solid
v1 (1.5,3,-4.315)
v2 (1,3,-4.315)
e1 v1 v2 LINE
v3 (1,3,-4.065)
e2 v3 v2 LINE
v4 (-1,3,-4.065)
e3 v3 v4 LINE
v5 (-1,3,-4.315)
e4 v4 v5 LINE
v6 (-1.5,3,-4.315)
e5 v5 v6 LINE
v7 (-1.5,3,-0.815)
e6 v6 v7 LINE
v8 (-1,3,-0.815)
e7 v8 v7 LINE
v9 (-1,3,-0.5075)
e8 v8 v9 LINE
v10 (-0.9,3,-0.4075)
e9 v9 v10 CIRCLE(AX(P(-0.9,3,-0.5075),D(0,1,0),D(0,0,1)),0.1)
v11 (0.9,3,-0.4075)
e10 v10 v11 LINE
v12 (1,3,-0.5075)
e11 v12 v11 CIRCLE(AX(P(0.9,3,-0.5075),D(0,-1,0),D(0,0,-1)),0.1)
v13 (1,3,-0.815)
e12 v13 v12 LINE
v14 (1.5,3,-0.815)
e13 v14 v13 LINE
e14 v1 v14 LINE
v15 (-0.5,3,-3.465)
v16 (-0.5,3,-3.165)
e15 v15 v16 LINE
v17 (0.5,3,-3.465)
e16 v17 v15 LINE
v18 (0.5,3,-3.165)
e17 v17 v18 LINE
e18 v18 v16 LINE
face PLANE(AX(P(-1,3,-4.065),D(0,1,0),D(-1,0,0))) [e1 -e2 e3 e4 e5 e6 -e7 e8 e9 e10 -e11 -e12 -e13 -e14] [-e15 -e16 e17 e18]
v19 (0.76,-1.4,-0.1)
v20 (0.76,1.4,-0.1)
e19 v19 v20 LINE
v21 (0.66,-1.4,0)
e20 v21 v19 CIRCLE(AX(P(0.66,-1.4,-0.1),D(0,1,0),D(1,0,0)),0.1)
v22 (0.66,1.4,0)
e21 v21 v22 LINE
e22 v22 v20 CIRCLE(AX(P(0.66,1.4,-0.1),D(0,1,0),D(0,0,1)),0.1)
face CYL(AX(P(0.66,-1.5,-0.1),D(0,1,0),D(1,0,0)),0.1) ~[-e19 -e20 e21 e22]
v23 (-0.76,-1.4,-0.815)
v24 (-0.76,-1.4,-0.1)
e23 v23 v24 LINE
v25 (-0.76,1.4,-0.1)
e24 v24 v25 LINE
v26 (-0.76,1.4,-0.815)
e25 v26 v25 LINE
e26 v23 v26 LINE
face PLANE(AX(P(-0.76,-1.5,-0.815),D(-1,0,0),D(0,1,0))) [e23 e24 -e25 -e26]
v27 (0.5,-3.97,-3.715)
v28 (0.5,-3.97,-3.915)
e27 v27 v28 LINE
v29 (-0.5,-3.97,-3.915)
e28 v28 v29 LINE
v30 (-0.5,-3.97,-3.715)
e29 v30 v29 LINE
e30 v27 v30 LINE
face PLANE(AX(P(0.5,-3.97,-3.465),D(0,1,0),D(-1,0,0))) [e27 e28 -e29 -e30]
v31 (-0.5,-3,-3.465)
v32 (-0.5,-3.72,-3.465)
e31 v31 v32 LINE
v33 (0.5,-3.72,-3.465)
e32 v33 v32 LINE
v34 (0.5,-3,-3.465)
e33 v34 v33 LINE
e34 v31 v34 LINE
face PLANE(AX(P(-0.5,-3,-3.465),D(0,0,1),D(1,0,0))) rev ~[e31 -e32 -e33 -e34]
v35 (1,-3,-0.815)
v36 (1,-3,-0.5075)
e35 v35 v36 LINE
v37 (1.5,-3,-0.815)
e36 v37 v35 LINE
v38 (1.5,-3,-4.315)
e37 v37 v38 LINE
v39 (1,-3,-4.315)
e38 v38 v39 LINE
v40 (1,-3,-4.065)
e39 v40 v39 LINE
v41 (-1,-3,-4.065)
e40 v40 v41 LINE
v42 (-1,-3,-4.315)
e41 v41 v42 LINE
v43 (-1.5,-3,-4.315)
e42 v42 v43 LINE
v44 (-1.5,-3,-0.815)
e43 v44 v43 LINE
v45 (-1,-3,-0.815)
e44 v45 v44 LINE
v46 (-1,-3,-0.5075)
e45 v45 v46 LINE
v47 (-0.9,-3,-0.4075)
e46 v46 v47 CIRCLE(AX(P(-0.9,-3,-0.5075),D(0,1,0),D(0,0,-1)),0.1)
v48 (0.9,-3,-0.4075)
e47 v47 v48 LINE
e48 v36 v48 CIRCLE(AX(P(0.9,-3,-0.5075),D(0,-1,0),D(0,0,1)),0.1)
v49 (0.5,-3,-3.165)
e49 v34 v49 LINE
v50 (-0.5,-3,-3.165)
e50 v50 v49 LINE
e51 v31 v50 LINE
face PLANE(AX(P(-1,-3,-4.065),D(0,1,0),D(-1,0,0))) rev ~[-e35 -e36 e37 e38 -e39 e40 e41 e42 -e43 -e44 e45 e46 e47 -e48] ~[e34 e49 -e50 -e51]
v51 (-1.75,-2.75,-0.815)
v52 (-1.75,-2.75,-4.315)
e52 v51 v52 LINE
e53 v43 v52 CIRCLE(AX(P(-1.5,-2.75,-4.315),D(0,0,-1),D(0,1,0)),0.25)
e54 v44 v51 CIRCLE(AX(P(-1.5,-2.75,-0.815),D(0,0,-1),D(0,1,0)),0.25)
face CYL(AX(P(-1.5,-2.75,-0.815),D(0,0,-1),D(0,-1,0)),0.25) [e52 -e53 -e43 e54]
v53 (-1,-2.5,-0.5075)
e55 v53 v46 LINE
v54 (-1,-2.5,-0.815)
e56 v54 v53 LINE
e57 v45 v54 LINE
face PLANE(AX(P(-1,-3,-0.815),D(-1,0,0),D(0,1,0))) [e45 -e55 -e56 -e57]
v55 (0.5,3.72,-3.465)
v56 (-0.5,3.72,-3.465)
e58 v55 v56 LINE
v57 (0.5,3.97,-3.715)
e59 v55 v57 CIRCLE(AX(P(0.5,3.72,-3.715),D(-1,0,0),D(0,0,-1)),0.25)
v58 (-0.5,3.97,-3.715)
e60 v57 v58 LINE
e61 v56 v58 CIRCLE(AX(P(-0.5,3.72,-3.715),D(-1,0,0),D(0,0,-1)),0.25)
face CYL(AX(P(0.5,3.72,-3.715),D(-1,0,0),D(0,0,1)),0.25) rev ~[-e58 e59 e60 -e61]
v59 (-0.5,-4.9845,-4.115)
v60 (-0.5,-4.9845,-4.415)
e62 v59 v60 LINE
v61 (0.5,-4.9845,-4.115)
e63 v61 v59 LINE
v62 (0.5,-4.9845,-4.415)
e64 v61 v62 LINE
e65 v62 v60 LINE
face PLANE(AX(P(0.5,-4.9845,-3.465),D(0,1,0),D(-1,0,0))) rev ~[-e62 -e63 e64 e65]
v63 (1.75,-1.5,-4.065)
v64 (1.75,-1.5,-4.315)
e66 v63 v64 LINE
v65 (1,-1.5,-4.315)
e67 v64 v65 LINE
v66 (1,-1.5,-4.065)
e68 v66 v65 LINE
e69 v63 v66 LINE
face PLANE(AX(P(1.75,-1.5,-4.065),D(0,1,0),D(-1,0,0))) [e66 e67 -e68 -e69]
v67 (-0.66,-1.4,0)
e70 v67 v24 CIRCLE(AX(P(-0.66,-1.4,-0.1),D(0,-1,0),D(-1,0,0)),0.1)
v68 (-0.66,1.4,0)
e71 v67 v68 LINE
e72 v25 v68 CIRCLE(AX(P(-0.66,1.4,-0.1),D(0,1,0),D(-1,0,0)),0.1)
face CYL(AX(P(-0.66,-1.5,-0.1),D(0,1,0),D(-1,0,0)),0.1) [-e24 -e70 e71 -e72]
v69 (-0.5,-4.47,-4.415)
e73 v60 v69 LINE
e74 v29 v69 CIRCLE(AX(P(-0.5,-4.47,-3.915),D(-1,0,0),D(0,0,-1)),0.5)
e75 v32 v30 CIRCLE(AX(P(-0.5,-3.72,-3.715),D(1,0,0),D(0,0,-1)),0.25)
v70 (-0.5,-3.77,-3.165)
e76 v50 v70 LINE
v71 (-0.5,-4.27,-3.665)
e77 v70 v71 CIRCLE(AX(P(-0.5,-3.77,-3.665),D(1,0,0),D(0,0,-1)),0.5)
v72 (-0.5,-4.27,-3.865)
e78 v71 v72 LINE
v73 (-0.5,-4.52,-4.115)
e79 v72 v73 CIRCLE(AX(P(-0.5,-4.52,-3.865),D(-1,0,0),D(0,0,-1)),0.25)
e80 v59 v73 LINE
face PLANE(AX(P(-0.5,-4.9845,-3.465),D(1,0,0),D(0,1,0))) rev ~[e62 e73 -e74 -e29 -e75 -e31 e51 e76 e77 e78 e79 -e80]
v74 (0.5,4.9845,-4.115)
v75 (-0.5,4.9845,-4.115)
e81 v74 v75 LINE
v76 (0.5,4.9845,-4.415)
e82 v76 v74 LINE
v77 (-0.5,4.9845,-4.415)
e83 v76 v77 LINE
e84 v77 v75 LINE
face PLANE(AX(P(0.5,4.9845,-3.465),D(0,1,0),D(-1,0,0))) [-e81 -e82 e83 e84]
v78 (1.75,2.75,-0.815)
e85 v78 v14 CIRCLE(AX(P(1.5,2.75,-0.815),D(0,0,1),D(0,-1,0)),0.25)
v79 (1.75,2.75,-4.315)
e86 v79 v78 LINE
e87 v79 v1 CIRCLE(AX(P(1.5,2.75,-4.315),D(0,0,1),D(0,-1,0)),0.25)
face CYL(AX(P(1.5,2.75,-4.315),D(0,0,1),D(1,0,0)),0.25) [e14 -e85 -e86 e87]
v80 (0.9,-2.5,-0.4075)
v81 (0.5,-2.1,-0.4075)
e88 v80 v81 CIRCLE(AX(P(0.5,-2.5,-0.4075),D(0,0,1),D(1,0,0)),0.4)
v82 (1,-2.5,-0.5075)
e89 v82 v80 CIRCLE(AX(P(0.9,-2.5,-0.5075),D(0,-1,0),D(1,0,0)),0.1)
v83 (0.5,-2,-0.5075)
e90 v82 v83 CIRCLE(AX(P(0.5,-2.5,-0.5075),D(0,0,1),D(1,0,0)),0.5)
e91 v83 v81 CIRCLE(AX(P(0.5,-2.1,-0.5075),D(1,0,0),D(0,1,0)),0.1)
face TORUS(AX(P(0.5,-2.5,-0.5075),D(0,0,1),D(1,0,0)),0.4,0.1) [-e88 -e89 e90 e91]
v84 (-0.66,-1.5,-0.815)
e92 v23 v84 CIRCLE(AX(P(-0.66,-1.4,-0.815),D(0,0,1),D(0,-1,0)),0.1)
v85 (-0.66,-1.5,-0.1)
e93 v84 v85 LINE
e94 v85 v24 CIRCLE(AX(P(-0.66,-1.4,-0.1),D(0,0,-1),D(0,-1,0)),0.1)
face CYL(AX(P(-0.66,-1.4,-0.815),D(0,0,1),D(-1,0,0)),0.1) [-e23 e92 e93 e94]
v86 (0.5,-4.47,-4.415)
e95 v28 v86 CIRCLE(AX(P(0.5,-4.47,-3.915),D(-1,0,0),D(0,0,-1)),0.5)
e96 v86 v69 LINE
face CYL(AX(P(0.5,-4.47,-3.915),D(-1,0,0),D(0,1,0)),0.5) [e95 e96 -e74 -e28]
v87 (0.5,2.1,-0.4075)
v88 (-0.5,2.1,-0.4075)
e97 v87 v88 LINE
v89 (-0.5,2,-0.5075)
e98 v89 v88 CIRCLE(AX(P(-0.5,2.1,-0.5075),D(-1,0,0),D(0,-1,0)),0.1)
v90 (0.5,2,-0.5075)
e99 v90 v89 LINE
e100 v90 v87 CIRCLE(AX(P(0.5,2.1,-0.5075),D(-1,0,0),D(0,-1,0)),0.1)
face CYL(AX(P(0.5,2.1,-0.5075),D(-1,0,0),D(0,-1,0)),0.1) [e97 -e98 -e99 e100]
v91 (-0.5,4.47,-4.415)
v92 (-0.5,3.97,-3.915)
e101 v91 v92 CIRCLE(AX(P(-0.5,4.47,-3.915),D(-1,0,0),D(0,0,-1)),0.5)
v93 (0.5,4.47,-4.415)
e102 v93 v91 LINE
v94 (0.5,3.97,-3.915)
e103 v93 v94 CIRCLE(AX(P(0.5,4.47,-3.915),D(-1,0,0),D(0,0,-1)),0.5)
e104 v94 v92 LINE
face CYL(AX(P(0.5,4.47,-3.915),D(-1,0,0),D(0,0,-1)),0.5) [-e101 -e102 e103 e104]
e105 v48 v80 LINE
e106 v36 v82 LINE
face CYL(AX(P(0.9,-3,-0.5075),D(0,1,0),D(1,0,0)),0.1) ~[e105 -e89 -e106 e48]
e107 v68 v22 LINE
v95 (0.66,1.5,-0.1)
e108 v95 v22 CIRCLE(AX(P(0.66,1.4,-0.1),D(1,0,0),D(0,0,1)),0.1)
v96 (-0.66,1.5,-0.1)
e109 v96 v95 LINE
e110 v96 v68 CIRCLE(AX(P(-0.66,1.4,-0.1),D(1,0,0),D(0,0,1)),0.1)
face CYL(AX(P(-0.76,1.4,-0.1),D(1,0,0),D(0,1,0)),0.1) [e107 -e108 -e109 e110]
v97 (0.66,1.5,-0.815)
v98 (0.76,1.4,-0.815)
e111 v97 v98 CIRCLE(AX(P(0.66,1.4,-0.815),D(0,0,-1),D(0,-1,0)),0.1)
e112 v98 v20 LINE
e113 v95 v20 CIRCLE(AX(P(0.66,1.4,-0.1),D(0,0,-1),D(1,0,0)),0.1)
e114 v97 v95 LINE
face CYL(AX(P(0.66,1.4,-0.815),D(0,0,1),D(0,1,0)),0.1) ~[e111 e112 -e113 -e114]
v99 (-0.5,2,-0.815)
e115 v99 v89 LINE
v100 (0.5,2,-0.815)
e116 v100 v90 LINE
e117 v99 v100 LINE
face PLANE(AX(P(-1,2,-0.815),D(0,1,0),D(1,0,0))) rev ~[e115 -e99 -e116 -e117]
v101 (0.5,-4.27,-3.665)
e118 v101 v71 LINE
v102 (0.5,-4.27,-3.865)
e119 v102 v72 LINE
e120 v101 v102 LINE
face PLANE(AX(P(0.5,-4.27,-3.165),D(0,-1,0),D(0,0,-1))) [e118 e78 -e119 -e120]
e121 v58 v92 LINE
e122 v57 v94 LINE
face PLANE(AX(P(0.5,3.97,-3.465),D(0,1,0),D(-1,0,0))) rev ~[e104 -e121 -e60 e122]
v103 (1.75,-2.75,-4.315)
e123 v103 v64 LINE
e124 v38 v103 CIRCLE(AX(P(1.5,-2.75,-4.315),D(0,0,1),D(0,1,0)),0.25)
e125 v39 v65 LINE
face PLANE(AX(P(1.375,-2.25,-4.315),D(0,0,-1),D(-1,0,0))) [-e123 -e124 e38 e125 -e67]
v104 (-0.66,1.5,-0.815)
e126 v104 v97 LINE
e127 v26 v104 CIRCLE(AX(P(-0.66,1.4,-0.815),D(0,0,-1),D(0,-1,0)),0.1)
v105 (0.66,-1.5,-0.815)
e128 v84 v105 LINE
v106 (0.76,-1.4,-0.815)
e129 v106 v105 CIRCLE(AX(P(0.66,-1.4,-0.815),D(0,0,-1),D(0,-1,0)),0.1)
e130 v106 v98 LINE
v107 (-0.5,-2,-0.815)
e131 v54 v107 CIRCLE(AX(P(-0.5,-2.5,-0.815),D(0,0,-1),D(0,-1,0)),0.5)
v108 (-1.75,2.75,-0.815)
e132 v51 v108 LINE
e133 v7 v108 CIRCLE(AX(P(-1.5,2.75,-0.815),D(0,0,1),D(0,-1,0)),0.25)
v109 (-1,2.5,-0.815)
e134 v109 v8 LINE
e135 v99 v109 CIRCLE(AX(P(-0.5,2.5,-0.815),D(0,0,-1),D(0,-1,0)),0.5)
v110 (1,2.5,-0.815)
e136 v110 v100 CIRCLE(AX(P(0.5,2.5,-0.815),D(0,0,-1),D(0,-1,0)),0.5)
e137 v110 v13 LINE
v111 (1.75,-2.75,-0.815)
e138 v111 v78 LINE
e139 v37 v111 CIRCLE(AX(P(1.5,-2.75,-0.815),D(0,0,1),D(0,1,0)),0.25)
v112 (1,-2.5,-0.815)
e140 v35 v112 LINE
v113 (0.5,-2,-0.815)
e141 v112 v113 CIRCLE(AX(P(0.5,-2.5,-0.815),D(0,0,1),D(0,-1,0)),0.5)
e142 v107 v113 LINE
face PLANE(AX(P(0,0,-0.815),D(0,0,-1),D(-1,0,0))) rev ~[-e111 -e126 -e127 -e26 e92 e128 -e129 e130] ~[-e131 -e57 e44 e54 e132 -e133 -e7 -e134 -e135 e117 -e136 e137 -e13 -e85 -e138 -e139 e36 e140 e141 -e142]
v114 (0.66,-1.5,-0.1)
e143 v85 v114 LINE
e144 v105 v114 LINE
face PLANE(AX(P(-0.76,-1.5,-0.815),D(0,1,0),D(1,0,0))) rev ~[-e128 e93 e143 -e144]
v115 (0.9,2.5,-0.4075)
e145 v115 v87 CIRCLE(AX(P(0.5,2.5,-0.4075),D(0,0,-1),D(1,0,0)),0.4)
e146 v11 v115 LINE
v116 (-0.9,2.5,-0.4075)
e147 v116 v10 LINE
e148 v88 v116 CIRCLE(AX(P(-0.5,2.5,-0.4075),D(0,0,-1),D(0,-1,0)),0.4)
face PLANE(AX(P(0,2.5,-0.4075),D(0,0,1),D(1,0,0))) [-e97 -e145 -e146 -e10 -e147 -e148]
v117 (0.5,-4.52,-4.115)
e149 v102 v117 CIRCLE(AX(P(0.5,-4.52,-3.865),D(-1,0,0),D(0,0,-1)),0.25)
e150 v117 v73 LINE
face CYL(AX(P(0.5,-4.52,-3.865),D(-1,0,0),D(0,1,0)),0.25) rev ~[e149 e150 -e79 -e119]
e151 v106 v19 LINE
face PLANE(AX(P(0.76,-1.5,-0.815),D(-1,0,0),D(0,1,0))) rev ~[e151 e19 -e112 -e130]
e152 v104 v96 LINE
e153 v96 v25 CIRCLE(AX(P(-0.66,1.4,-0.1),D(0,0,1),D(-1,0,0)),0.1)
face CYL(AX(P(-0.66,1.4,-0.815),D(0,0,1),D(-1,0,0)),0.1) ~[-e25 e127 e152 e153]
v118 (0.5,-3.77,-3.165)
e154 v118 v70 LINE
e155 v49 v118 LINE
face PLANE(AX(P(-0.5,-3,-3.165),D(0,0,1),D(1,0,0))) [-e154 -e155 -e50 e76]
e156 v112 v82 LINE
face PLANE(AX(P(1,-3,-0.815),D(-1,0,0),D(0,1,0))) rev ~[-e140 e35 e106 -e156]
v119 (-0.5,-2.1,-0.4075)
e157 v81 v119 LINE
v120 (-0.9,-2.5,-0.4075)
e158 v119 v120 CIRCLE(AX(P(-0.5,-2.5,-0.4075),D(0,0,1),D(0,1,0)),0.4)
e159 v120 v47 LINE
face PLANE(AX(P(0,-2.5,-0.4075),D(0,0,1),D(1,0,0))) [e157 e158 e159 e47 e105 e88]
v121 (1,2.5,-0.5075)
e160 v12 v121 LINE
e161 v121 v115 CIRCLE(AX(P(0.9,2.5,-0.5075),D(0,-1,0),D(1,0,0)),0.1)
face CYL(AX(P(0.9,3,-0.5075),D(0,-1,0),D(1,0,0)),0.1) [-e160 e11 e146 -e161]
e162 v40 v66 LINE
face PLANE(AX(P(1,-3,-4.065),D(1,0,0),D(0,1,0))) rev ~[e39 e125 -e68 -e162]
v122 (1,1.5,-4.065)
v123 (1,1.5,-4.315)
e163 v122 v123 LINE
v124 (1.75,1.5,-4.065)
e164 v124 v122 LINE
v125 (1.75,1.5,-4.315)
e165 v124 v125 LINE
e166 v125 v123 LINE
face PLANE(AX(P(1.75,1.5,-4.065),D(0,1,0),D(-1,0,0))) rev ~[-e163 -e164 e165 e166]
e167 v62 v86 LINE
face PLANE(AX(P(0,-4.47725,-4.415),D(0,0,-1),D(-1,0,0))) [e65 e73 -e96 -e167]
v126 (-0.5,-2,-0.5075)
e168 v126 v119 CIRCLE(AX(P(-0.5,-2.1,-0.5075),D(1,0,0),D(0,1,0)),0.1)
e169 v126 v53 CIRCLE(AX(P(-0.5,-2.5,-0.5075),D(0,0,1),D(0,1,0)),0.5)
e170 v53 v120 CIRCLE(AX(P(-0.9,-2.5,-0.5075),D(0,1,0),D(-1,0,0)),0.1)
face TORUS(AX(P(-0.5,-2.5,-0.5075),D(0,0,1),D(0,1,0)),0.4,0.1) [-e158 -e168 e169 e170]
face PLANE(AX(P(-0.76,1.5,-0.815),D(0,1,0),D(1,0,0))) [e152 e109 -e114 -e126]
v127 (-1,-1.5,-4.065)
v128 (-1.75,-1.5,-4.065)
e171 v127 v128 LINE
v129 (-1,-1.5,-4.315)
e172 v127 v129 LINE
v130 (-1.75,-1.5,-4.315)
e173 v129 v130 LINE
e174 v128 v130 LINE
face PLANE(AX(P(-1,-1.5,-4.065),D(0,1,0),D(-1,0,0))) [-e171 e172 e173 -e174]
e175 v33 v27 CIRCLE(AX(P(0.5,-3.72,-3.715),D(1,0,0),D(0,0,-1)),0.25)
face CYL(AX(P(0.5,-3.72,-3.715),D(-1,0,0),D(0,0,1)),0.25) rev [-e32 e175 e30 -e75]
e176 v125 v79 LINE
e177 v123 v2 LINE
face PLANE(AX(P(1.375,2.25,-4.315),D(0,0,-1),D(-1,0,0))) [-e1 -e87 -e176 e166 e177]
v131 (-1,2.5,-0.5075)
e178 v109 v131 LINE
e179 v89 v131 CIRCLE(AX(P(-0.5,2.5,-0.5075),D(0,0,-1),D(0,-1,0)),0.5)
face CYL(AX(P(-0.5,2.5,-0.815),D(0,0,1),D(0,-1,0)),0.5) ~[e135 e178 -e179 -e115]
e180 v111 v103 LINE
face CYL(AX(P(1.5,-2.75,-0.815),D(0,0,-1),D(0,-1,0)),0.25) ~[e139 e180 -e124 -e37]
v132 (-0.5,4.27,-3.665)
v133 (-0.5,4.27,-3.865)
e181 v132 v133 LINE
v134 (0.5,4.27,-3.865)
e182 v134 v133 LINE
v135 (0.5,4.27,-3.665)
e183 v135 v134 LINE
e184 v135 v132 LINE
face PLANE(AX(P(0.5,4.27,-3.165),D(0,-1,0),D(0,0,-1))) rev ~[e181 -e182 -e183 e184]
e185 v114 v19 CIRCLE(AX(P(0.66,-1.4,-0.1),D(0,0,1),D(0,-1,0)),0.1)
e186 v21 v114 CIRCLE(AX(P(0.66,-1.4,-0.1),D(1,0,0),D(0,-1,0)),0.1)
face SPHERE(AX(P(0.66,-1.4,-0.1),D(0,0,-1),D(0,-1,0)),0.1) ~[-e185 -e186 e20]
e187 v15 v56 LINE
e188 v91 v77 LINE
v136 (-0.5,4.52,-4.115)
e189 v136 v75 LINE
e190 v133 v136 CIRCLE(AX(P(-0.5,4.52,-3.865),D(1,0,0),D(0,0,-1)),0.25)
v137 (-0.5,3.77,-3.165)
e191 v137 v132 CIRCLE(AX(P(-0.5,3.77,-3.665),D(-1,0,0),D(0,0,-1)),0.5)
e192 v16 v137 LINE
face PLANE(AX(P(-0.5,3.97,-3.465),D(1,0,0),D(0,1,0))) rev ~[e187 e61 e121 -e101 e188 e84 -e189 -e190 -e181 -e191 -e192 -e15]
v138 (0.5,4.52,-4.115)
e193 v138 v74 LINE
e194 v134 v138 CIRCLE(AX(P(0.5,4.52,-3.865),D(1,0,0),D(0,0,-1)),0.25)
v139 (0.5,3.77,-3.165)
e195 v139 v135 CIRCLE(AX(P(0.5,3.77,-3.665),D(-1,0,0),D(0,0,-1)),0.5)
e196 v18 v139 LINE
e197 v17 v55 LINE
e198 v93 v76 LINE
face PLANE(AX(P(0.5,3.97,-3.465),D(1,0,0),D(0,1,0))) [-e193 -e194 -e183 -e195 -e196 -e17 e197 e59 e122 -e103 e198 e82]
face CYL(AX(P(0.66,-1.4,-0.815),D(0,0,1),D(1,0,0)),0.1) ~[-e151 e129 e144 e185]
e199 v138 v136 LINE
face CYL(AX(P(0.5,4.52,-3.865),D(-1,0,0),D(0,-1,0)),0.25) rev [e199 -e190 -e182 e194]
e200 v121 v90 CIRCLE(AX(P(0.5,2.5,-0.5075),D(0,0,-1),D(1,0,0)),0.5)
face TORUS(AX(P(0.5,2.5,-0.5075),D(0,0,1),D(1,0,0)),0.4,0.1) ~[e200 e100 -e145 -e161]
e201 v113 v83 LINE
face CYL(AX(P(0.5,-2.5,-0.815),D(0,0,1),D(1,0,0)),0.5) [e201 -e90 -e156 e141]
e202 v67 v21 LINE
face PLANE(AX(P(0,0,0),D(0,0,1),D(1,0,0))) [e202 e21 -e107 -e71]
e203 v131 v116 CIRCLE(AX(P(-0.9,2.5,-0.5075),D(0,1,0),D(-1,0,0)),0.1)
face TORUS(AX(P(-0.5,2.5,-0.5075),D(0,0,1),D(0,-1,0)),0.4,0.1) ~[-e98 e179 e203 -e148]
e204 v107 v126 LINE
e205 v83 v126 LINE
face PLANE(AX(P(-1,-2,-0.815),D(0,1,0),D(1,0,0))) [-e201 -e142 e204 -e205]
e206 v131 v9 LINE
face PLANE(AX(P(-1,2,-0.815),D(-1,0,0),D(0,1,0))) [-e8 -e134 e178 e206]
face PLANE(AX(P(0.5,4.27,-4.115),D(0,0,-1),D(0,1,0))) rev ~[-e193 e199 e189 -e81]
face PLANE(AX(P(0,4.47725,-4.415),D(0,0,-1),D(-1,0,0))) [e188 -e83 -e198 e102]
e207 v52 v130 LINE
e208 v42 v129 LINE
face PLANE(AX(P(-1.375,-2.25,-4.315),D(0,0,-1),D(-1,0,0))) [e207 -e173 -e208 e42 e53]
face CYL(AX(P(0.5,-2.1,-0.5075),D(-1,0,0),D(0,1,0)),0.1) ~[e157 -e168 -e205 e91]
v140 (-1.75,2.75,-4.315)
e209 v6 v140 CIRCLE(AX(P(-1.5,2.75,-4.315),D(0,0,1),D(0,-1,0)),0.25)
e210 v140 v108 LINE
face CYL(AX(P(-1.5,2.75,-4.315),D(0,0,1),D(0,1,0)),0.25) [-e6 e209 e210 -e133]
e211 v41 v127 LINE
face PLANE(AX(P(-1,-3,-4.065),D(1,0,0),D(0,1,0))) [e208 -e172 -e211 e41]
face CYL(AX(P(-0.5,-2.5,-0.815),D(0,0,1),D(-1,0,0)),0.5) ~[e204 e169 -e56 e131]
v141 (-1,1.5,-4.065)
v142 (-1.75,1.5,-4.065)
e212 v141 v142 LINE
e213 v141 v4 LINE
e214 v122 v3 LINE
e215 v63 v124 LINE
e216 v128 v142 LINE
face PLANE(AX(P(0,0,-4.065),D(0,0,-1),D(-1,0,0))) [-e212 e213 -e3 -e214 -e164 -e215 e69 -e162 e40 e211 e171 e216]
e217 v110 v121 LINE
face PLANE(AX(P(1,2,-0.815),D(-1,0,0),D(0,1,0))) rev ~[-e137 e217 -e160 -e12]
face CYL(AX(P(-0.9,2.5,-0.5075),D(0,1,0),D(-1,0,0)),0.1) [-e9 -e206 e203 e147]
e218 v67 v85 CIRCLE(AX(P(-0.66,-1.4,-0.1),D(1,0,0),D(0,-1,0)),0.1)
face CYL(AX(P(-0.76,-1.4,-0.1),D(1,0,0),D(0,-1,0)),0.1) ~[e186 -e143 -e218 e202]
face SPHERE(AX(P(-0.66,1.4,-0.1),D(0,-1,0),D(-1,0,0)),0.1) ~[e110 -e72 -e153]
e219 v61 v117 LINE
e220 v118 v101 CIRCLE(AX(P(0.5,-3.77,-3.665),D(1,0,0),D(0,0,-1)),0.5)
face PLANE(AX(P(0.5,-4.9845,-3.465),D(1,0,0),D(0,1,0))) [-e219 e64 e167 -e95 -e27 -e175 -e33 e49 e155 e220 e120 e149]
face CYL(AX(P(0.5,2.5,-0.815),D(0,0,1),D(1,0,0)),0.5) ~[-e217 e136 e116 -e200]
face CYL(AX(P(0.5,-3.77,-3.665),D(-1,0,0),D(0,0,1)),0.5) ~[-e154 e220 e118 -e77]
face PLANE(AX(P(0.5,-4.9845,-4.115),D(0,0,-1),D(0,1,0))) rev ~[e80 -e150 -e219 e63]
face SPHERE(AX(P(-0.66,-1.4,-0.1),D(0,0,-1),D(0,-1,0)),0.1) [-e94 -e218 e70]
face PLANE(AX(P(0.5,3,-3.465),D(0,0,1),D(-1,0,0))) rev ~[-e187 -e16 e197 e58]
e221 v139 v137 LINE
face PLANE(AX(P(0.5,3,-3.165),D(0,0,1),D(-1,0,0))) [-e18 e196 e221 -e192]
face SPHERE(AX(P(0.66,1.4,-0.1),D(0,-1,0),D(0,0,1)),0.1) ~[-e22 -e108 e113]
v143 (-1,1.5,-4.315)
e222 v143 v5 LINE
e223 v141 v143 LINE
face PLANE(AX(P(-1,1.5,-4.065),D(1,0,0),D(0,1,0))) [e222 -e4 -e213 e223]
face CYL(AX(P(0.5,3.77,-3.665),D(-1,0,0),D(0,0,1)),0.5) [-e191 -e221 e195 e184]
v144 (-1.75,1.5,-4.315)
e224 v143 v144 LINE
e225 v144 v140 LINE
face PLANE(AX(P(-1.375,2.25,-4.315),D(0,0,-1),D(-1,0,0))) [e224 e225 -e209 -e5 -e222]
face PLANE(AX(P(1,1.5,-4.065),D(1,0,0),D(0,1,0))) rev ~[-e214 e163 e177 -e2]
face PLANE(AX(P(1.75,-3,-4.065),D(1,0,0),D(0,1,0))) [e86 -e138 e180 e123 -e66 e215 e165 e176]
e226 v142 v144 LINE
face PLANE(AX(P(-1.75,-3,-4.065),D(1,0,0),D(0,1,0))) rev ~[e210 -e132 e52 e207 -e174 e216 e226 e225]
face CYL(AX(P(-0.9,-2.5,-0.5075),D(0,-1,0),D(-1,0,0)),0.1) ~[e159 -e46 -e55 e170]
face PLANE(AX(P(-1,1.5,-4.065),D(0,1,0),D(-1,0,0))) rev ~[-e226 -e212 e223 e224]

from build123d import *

# Parameters (mm, degrees)
SKETCH1_W            = 3.5
SKETCH1_H            = 6
BOSS_EXTRUDE1_DEPTH  = 3.25
SKETCH2_W            = 1
SKETCH2_H            = 0.3
BOSS_EXTRUDE2_DEPTH  = 1.9845
SKETCH3_W            = 1
SKETCH3_H            = 1.0145
BOSS_EXTRUDE3_DEPTH  = 0.95
SKETCH4_W            = 1
SKETCH4_H            = 0.3
BOSS_EXTRUDE4_DEPTH  = 1.9845
SKETCH5_W            = 1
SKETCH5_H            = 1.0145
BOSS_EXTRUDE5_DEPTH  = 0.95
SKETCH6_W            = 0.95
SKETCH6_H            = 0.7145
CUT_EXTRUDE1_DEPTH   = 8.028510884
SKETCH7_W            = 0.95
SKETCH7_H            = 0.7145
CUT_EXTRUDE2_DEPTH   = 8.028510884
SKETCH8_W            = 0.75
SKETCH8_H            = 1.5
BOSS_EXTRUDE6_DEPTH  = 0.25
SKETCH9_W            = 0.75
SKETCH9_H            = 1.5
BOSS_EXTRUDE7_DEPTH  = 0.25
SKETCH10_W           = 0.75
SKETCH10_H           = 1.5
BOSS_EXTRUDE8_DEPTH  = 0.25
SKETCH11_W           = 0.75
SKETCH11_H           = 1.5
BOSS_EXTRUDE9_DEPTH  = 0.25
SKETCH12_W           = 2
SKETCH12_H           = 1
BOSS_EXTRUDE10_DEPTH = 0.4075
SKETCH13_W           = 2
SKETCH13_H           = 1
BOSS_EXTRUDE11_DEPTH = 0.4075
SKETCH14_W           = 1.52
SKETCH14_H           = 3
BOSS_EXTRUDE12_DEPTH = 0.815
FILLET1_R            = 0.5
FILLET2_R            = 0.1
FILLET3_R            = 0.25


with BuildPart() as part:
    # Sketch1 → Boss-Extrude1 (new body)
    with BuildSketch(Plane(origin=(0, 0, -4.065), x_dir=(-1, 0, 0), z_dir=(0, 0, -1))):
        Rectangle(SKETCH1_W, SKETCH1_H)
    extrude(amount=-BOSS_EXTRUDE1_DEPTH)

    # Sketch2 → Boss-Extrude2 (add)
    with BuildSketch(Plane(origin=(0, 3, 0), x_dir=(-1, 0, 0), z_dir=(0, 1, 0))):
        with Locations((0, -3.315)):
            Rectangle(SKETCH2_W, SKETCH2_H)
    extrude(amount=BOSS_EXTRUDE2_DEPTH)

    # Sketch3 → Boss-Extrude3 (add)
    with BuildSketch(Plane(origin=(0, 0, -3.465), x_dir=(-1, 0, 0), z_dir=(0, 0, -1))):
        with Locations((0, 4.47725)):
            Rectangle(SKETCH3_W, SKETCH3_H)
    extrude(amount=BOSS_EXTRUDE3_DEPTH)

    # Sketch4 → Boss-Extrude4 (add)
    with BuildSketch(Plane.XZ.offset(3)):
        with Locations((0, -3.315)):
            Rectangle(SKETCH4_W, SKETCH4_H)
    extrude(amount=BOSS_EXTRUDE4_DEPTH)

    # Sketch5 → Boss-Extrude5 (add)
    with BuildSketch(Plane(origin=(0, 0, -3.465), x_dir=(-1, 0, 0), z_dir=(0, 0, -1))):
        with Locations((0, -4.47725)):
            Rectangle(SKETCH5_W, SKETCH5_H)
    extrude(amount=BOSS_EXTRUDE5_DEPTH)

    # Sketch6 → Cut-Extrude1 (cut, through all)
    with BuildSketch(Plane(origin=(0.5, 0, 0), x_dir=(0, 0, -1), z_dir=(1, 0, 0))):
        with Locations((3.64, 4.62725)):
            Rectangle(SKETCH6_W, SKETCH6_H)
    extrude(amount=-CUT_EXTRUDE1_DEPTH, mode=Mode.SUBTRACT)

    # Sketch7 → Cut-Extrude2 (cut, through all)
    with BuildSketch(Plane(origin=(0.5, 0, 0), x_dir=(0, 0, -1), z_dir=(1, 0, 0))):
        with Locations((3.64, -4.62725)):
            Rectangle(SKETCH7_W, SKETCH7_H)
    extrude(amount=-CUT_EXTRUDE2_DEPTH, mode=Mode.SUBTRACT)

    # Sketch8 → Boss-Extrude6 (add)
    with BuildSketch(Plane(origin=(0, 0, -4.065), x_dir=(-1, 0, 0), z_dir=(0, 0, -1))):
        with Locations((-1.375, 2.25)):
            Rectangle(SKETCH8_W, SKETCH8_H)
    extrude(amount=BOSS_EXTRUDE6_DEPTH)

    # Sketch9 → Boss-Extrude7 (add)
    with BuildSketch(Plane(origin=(0, 0, -4.065), x_dir=(-1, 0, 0), z_dir=(0, 0, -1))):
        with Locations((-1.375, -2.25)):
            Rectangle(SKETCH9_W, SKETCH9_H)
    extrude(amount=BOSS_EXTRUDE7_DEPTH)

    # Sketch10 → Boss-Extrude8 (add)
    with BuildSketch(Plane(origin=(0, 0, -4.065), x_dir=(-1, 0, 0), z_dir=(0, 0, -1))):
        with Locations((1.375, 2.25)):
            Rectangle(SKETCH10_W, SKETCH10_H)
    extrude(amount=BOSS_EXTRUDE8_DEPTH)

    # Sketch11 → Boss-Extrude9 (add)
    with BuildSketch(Plane(origin=(0, 0, -4.065), x_dir=(-1, 0, 0), z_dir=(0, 0, -1))):
        with Locations((1.375, -2.25)):
            Rectangle(SKETCH11_W, SKETCH11_H)
    extrude(amount=BOSS_EXTRUDE9_DEPTH)

    # Sketch12 → Boss-Extrude10 (add)
    with BuildSketch(Plane.XY.offset(-0.815)):
        with Locations((0, -2.5)):
            Rectangle(SKETCH12_W, SKETCH12_H)
    extrude(amount=BOSS_EXTRUDE10_DEPTH)

    # Sketch13 → Boss-Extrude11 (add)
    with BuildSketch(Plane.XY.offset(-0.815)):
        with Locations((0, 2.5)):
            Rectangle(SKETCH13_W, SKETCH13_H)
    extrude(amount=BOSS_EXTRUDE11_DEPTH)

    # Sketch14 → Boss-Extrude12 (add)
    with BuildSketch(Plane.XY.offset(-0.815)):
        Rectangle(SKETCH14_W, SKETCH14_H)
    extrude(amount=BOSS_EXTRUDE12_DEPTH)

    # Fillet1
    fillet1_edges = [part.edges().sort_by_distance(p)[0] for p in [
        (0, 3.97, -4.415),
        (0, 4.27, -3.165),
        (0, -4.27, -3.165),
        (0, -3.97, -4.415),
        (-1, 2, -0.61125),
        (1, -2, -0.61125),
        (-1, -2, -0.61125),
        (1, 2, -0.61125),
    ]]
    fillet(fillet1_edges, radius=FILLET1_R)

    # Fillet2
    fillet2_edges = [part.edges().sort_by_distance(p)[0] for p in [
        (-0.76, -1.5, -0.4075),
        (0.76, -1.5, -0.4075),
        (0, -1.5, 0),
        (-0.76, 0, 0),
        (-0.76, 1.5, -0.4075),
        (0.76, 0, 0),
        (0, 1.5, 0),
        (0.76, 1.5, -0.4075),
        (-1, 2.75, -0.4075),
        (-0.853553391, 2.146446609, -0.4075),
        (0, 2, -0.4075),
        (0.853553391, 2.146446609, -0.4075),
        (1, 2.75, -0.4075),
        (1, -2.75, -0.4075),
        (0.853553391, -2.146446609, -0.4075),
        (0, -2, -0.4075),
        (-1, -2.75, -0.4075),
        (-0.853553391, -2.146446609, -0.4075),
    ]]
    fillet(fillet2_edges, radius=FILLET2_R)

    # Fillet3
    fillet3_edges = [part.edges().sort_by_distance(p)[0] for p in [
        (0, -4.27, -4.115),
        (-1.75, -3, -2.565),
        (-1.75, 3, -2.565),
        (1.75, -3, -2.565),
        (1.75, 3, -2.565),
        (0, 4.27, -4.115),
        (0, -3.97, -3.465),
        (0, 3.97, -3.465),
    ]]
    fillet(fillet3_edges, radius=FILLET3_R)


solid = part.part
